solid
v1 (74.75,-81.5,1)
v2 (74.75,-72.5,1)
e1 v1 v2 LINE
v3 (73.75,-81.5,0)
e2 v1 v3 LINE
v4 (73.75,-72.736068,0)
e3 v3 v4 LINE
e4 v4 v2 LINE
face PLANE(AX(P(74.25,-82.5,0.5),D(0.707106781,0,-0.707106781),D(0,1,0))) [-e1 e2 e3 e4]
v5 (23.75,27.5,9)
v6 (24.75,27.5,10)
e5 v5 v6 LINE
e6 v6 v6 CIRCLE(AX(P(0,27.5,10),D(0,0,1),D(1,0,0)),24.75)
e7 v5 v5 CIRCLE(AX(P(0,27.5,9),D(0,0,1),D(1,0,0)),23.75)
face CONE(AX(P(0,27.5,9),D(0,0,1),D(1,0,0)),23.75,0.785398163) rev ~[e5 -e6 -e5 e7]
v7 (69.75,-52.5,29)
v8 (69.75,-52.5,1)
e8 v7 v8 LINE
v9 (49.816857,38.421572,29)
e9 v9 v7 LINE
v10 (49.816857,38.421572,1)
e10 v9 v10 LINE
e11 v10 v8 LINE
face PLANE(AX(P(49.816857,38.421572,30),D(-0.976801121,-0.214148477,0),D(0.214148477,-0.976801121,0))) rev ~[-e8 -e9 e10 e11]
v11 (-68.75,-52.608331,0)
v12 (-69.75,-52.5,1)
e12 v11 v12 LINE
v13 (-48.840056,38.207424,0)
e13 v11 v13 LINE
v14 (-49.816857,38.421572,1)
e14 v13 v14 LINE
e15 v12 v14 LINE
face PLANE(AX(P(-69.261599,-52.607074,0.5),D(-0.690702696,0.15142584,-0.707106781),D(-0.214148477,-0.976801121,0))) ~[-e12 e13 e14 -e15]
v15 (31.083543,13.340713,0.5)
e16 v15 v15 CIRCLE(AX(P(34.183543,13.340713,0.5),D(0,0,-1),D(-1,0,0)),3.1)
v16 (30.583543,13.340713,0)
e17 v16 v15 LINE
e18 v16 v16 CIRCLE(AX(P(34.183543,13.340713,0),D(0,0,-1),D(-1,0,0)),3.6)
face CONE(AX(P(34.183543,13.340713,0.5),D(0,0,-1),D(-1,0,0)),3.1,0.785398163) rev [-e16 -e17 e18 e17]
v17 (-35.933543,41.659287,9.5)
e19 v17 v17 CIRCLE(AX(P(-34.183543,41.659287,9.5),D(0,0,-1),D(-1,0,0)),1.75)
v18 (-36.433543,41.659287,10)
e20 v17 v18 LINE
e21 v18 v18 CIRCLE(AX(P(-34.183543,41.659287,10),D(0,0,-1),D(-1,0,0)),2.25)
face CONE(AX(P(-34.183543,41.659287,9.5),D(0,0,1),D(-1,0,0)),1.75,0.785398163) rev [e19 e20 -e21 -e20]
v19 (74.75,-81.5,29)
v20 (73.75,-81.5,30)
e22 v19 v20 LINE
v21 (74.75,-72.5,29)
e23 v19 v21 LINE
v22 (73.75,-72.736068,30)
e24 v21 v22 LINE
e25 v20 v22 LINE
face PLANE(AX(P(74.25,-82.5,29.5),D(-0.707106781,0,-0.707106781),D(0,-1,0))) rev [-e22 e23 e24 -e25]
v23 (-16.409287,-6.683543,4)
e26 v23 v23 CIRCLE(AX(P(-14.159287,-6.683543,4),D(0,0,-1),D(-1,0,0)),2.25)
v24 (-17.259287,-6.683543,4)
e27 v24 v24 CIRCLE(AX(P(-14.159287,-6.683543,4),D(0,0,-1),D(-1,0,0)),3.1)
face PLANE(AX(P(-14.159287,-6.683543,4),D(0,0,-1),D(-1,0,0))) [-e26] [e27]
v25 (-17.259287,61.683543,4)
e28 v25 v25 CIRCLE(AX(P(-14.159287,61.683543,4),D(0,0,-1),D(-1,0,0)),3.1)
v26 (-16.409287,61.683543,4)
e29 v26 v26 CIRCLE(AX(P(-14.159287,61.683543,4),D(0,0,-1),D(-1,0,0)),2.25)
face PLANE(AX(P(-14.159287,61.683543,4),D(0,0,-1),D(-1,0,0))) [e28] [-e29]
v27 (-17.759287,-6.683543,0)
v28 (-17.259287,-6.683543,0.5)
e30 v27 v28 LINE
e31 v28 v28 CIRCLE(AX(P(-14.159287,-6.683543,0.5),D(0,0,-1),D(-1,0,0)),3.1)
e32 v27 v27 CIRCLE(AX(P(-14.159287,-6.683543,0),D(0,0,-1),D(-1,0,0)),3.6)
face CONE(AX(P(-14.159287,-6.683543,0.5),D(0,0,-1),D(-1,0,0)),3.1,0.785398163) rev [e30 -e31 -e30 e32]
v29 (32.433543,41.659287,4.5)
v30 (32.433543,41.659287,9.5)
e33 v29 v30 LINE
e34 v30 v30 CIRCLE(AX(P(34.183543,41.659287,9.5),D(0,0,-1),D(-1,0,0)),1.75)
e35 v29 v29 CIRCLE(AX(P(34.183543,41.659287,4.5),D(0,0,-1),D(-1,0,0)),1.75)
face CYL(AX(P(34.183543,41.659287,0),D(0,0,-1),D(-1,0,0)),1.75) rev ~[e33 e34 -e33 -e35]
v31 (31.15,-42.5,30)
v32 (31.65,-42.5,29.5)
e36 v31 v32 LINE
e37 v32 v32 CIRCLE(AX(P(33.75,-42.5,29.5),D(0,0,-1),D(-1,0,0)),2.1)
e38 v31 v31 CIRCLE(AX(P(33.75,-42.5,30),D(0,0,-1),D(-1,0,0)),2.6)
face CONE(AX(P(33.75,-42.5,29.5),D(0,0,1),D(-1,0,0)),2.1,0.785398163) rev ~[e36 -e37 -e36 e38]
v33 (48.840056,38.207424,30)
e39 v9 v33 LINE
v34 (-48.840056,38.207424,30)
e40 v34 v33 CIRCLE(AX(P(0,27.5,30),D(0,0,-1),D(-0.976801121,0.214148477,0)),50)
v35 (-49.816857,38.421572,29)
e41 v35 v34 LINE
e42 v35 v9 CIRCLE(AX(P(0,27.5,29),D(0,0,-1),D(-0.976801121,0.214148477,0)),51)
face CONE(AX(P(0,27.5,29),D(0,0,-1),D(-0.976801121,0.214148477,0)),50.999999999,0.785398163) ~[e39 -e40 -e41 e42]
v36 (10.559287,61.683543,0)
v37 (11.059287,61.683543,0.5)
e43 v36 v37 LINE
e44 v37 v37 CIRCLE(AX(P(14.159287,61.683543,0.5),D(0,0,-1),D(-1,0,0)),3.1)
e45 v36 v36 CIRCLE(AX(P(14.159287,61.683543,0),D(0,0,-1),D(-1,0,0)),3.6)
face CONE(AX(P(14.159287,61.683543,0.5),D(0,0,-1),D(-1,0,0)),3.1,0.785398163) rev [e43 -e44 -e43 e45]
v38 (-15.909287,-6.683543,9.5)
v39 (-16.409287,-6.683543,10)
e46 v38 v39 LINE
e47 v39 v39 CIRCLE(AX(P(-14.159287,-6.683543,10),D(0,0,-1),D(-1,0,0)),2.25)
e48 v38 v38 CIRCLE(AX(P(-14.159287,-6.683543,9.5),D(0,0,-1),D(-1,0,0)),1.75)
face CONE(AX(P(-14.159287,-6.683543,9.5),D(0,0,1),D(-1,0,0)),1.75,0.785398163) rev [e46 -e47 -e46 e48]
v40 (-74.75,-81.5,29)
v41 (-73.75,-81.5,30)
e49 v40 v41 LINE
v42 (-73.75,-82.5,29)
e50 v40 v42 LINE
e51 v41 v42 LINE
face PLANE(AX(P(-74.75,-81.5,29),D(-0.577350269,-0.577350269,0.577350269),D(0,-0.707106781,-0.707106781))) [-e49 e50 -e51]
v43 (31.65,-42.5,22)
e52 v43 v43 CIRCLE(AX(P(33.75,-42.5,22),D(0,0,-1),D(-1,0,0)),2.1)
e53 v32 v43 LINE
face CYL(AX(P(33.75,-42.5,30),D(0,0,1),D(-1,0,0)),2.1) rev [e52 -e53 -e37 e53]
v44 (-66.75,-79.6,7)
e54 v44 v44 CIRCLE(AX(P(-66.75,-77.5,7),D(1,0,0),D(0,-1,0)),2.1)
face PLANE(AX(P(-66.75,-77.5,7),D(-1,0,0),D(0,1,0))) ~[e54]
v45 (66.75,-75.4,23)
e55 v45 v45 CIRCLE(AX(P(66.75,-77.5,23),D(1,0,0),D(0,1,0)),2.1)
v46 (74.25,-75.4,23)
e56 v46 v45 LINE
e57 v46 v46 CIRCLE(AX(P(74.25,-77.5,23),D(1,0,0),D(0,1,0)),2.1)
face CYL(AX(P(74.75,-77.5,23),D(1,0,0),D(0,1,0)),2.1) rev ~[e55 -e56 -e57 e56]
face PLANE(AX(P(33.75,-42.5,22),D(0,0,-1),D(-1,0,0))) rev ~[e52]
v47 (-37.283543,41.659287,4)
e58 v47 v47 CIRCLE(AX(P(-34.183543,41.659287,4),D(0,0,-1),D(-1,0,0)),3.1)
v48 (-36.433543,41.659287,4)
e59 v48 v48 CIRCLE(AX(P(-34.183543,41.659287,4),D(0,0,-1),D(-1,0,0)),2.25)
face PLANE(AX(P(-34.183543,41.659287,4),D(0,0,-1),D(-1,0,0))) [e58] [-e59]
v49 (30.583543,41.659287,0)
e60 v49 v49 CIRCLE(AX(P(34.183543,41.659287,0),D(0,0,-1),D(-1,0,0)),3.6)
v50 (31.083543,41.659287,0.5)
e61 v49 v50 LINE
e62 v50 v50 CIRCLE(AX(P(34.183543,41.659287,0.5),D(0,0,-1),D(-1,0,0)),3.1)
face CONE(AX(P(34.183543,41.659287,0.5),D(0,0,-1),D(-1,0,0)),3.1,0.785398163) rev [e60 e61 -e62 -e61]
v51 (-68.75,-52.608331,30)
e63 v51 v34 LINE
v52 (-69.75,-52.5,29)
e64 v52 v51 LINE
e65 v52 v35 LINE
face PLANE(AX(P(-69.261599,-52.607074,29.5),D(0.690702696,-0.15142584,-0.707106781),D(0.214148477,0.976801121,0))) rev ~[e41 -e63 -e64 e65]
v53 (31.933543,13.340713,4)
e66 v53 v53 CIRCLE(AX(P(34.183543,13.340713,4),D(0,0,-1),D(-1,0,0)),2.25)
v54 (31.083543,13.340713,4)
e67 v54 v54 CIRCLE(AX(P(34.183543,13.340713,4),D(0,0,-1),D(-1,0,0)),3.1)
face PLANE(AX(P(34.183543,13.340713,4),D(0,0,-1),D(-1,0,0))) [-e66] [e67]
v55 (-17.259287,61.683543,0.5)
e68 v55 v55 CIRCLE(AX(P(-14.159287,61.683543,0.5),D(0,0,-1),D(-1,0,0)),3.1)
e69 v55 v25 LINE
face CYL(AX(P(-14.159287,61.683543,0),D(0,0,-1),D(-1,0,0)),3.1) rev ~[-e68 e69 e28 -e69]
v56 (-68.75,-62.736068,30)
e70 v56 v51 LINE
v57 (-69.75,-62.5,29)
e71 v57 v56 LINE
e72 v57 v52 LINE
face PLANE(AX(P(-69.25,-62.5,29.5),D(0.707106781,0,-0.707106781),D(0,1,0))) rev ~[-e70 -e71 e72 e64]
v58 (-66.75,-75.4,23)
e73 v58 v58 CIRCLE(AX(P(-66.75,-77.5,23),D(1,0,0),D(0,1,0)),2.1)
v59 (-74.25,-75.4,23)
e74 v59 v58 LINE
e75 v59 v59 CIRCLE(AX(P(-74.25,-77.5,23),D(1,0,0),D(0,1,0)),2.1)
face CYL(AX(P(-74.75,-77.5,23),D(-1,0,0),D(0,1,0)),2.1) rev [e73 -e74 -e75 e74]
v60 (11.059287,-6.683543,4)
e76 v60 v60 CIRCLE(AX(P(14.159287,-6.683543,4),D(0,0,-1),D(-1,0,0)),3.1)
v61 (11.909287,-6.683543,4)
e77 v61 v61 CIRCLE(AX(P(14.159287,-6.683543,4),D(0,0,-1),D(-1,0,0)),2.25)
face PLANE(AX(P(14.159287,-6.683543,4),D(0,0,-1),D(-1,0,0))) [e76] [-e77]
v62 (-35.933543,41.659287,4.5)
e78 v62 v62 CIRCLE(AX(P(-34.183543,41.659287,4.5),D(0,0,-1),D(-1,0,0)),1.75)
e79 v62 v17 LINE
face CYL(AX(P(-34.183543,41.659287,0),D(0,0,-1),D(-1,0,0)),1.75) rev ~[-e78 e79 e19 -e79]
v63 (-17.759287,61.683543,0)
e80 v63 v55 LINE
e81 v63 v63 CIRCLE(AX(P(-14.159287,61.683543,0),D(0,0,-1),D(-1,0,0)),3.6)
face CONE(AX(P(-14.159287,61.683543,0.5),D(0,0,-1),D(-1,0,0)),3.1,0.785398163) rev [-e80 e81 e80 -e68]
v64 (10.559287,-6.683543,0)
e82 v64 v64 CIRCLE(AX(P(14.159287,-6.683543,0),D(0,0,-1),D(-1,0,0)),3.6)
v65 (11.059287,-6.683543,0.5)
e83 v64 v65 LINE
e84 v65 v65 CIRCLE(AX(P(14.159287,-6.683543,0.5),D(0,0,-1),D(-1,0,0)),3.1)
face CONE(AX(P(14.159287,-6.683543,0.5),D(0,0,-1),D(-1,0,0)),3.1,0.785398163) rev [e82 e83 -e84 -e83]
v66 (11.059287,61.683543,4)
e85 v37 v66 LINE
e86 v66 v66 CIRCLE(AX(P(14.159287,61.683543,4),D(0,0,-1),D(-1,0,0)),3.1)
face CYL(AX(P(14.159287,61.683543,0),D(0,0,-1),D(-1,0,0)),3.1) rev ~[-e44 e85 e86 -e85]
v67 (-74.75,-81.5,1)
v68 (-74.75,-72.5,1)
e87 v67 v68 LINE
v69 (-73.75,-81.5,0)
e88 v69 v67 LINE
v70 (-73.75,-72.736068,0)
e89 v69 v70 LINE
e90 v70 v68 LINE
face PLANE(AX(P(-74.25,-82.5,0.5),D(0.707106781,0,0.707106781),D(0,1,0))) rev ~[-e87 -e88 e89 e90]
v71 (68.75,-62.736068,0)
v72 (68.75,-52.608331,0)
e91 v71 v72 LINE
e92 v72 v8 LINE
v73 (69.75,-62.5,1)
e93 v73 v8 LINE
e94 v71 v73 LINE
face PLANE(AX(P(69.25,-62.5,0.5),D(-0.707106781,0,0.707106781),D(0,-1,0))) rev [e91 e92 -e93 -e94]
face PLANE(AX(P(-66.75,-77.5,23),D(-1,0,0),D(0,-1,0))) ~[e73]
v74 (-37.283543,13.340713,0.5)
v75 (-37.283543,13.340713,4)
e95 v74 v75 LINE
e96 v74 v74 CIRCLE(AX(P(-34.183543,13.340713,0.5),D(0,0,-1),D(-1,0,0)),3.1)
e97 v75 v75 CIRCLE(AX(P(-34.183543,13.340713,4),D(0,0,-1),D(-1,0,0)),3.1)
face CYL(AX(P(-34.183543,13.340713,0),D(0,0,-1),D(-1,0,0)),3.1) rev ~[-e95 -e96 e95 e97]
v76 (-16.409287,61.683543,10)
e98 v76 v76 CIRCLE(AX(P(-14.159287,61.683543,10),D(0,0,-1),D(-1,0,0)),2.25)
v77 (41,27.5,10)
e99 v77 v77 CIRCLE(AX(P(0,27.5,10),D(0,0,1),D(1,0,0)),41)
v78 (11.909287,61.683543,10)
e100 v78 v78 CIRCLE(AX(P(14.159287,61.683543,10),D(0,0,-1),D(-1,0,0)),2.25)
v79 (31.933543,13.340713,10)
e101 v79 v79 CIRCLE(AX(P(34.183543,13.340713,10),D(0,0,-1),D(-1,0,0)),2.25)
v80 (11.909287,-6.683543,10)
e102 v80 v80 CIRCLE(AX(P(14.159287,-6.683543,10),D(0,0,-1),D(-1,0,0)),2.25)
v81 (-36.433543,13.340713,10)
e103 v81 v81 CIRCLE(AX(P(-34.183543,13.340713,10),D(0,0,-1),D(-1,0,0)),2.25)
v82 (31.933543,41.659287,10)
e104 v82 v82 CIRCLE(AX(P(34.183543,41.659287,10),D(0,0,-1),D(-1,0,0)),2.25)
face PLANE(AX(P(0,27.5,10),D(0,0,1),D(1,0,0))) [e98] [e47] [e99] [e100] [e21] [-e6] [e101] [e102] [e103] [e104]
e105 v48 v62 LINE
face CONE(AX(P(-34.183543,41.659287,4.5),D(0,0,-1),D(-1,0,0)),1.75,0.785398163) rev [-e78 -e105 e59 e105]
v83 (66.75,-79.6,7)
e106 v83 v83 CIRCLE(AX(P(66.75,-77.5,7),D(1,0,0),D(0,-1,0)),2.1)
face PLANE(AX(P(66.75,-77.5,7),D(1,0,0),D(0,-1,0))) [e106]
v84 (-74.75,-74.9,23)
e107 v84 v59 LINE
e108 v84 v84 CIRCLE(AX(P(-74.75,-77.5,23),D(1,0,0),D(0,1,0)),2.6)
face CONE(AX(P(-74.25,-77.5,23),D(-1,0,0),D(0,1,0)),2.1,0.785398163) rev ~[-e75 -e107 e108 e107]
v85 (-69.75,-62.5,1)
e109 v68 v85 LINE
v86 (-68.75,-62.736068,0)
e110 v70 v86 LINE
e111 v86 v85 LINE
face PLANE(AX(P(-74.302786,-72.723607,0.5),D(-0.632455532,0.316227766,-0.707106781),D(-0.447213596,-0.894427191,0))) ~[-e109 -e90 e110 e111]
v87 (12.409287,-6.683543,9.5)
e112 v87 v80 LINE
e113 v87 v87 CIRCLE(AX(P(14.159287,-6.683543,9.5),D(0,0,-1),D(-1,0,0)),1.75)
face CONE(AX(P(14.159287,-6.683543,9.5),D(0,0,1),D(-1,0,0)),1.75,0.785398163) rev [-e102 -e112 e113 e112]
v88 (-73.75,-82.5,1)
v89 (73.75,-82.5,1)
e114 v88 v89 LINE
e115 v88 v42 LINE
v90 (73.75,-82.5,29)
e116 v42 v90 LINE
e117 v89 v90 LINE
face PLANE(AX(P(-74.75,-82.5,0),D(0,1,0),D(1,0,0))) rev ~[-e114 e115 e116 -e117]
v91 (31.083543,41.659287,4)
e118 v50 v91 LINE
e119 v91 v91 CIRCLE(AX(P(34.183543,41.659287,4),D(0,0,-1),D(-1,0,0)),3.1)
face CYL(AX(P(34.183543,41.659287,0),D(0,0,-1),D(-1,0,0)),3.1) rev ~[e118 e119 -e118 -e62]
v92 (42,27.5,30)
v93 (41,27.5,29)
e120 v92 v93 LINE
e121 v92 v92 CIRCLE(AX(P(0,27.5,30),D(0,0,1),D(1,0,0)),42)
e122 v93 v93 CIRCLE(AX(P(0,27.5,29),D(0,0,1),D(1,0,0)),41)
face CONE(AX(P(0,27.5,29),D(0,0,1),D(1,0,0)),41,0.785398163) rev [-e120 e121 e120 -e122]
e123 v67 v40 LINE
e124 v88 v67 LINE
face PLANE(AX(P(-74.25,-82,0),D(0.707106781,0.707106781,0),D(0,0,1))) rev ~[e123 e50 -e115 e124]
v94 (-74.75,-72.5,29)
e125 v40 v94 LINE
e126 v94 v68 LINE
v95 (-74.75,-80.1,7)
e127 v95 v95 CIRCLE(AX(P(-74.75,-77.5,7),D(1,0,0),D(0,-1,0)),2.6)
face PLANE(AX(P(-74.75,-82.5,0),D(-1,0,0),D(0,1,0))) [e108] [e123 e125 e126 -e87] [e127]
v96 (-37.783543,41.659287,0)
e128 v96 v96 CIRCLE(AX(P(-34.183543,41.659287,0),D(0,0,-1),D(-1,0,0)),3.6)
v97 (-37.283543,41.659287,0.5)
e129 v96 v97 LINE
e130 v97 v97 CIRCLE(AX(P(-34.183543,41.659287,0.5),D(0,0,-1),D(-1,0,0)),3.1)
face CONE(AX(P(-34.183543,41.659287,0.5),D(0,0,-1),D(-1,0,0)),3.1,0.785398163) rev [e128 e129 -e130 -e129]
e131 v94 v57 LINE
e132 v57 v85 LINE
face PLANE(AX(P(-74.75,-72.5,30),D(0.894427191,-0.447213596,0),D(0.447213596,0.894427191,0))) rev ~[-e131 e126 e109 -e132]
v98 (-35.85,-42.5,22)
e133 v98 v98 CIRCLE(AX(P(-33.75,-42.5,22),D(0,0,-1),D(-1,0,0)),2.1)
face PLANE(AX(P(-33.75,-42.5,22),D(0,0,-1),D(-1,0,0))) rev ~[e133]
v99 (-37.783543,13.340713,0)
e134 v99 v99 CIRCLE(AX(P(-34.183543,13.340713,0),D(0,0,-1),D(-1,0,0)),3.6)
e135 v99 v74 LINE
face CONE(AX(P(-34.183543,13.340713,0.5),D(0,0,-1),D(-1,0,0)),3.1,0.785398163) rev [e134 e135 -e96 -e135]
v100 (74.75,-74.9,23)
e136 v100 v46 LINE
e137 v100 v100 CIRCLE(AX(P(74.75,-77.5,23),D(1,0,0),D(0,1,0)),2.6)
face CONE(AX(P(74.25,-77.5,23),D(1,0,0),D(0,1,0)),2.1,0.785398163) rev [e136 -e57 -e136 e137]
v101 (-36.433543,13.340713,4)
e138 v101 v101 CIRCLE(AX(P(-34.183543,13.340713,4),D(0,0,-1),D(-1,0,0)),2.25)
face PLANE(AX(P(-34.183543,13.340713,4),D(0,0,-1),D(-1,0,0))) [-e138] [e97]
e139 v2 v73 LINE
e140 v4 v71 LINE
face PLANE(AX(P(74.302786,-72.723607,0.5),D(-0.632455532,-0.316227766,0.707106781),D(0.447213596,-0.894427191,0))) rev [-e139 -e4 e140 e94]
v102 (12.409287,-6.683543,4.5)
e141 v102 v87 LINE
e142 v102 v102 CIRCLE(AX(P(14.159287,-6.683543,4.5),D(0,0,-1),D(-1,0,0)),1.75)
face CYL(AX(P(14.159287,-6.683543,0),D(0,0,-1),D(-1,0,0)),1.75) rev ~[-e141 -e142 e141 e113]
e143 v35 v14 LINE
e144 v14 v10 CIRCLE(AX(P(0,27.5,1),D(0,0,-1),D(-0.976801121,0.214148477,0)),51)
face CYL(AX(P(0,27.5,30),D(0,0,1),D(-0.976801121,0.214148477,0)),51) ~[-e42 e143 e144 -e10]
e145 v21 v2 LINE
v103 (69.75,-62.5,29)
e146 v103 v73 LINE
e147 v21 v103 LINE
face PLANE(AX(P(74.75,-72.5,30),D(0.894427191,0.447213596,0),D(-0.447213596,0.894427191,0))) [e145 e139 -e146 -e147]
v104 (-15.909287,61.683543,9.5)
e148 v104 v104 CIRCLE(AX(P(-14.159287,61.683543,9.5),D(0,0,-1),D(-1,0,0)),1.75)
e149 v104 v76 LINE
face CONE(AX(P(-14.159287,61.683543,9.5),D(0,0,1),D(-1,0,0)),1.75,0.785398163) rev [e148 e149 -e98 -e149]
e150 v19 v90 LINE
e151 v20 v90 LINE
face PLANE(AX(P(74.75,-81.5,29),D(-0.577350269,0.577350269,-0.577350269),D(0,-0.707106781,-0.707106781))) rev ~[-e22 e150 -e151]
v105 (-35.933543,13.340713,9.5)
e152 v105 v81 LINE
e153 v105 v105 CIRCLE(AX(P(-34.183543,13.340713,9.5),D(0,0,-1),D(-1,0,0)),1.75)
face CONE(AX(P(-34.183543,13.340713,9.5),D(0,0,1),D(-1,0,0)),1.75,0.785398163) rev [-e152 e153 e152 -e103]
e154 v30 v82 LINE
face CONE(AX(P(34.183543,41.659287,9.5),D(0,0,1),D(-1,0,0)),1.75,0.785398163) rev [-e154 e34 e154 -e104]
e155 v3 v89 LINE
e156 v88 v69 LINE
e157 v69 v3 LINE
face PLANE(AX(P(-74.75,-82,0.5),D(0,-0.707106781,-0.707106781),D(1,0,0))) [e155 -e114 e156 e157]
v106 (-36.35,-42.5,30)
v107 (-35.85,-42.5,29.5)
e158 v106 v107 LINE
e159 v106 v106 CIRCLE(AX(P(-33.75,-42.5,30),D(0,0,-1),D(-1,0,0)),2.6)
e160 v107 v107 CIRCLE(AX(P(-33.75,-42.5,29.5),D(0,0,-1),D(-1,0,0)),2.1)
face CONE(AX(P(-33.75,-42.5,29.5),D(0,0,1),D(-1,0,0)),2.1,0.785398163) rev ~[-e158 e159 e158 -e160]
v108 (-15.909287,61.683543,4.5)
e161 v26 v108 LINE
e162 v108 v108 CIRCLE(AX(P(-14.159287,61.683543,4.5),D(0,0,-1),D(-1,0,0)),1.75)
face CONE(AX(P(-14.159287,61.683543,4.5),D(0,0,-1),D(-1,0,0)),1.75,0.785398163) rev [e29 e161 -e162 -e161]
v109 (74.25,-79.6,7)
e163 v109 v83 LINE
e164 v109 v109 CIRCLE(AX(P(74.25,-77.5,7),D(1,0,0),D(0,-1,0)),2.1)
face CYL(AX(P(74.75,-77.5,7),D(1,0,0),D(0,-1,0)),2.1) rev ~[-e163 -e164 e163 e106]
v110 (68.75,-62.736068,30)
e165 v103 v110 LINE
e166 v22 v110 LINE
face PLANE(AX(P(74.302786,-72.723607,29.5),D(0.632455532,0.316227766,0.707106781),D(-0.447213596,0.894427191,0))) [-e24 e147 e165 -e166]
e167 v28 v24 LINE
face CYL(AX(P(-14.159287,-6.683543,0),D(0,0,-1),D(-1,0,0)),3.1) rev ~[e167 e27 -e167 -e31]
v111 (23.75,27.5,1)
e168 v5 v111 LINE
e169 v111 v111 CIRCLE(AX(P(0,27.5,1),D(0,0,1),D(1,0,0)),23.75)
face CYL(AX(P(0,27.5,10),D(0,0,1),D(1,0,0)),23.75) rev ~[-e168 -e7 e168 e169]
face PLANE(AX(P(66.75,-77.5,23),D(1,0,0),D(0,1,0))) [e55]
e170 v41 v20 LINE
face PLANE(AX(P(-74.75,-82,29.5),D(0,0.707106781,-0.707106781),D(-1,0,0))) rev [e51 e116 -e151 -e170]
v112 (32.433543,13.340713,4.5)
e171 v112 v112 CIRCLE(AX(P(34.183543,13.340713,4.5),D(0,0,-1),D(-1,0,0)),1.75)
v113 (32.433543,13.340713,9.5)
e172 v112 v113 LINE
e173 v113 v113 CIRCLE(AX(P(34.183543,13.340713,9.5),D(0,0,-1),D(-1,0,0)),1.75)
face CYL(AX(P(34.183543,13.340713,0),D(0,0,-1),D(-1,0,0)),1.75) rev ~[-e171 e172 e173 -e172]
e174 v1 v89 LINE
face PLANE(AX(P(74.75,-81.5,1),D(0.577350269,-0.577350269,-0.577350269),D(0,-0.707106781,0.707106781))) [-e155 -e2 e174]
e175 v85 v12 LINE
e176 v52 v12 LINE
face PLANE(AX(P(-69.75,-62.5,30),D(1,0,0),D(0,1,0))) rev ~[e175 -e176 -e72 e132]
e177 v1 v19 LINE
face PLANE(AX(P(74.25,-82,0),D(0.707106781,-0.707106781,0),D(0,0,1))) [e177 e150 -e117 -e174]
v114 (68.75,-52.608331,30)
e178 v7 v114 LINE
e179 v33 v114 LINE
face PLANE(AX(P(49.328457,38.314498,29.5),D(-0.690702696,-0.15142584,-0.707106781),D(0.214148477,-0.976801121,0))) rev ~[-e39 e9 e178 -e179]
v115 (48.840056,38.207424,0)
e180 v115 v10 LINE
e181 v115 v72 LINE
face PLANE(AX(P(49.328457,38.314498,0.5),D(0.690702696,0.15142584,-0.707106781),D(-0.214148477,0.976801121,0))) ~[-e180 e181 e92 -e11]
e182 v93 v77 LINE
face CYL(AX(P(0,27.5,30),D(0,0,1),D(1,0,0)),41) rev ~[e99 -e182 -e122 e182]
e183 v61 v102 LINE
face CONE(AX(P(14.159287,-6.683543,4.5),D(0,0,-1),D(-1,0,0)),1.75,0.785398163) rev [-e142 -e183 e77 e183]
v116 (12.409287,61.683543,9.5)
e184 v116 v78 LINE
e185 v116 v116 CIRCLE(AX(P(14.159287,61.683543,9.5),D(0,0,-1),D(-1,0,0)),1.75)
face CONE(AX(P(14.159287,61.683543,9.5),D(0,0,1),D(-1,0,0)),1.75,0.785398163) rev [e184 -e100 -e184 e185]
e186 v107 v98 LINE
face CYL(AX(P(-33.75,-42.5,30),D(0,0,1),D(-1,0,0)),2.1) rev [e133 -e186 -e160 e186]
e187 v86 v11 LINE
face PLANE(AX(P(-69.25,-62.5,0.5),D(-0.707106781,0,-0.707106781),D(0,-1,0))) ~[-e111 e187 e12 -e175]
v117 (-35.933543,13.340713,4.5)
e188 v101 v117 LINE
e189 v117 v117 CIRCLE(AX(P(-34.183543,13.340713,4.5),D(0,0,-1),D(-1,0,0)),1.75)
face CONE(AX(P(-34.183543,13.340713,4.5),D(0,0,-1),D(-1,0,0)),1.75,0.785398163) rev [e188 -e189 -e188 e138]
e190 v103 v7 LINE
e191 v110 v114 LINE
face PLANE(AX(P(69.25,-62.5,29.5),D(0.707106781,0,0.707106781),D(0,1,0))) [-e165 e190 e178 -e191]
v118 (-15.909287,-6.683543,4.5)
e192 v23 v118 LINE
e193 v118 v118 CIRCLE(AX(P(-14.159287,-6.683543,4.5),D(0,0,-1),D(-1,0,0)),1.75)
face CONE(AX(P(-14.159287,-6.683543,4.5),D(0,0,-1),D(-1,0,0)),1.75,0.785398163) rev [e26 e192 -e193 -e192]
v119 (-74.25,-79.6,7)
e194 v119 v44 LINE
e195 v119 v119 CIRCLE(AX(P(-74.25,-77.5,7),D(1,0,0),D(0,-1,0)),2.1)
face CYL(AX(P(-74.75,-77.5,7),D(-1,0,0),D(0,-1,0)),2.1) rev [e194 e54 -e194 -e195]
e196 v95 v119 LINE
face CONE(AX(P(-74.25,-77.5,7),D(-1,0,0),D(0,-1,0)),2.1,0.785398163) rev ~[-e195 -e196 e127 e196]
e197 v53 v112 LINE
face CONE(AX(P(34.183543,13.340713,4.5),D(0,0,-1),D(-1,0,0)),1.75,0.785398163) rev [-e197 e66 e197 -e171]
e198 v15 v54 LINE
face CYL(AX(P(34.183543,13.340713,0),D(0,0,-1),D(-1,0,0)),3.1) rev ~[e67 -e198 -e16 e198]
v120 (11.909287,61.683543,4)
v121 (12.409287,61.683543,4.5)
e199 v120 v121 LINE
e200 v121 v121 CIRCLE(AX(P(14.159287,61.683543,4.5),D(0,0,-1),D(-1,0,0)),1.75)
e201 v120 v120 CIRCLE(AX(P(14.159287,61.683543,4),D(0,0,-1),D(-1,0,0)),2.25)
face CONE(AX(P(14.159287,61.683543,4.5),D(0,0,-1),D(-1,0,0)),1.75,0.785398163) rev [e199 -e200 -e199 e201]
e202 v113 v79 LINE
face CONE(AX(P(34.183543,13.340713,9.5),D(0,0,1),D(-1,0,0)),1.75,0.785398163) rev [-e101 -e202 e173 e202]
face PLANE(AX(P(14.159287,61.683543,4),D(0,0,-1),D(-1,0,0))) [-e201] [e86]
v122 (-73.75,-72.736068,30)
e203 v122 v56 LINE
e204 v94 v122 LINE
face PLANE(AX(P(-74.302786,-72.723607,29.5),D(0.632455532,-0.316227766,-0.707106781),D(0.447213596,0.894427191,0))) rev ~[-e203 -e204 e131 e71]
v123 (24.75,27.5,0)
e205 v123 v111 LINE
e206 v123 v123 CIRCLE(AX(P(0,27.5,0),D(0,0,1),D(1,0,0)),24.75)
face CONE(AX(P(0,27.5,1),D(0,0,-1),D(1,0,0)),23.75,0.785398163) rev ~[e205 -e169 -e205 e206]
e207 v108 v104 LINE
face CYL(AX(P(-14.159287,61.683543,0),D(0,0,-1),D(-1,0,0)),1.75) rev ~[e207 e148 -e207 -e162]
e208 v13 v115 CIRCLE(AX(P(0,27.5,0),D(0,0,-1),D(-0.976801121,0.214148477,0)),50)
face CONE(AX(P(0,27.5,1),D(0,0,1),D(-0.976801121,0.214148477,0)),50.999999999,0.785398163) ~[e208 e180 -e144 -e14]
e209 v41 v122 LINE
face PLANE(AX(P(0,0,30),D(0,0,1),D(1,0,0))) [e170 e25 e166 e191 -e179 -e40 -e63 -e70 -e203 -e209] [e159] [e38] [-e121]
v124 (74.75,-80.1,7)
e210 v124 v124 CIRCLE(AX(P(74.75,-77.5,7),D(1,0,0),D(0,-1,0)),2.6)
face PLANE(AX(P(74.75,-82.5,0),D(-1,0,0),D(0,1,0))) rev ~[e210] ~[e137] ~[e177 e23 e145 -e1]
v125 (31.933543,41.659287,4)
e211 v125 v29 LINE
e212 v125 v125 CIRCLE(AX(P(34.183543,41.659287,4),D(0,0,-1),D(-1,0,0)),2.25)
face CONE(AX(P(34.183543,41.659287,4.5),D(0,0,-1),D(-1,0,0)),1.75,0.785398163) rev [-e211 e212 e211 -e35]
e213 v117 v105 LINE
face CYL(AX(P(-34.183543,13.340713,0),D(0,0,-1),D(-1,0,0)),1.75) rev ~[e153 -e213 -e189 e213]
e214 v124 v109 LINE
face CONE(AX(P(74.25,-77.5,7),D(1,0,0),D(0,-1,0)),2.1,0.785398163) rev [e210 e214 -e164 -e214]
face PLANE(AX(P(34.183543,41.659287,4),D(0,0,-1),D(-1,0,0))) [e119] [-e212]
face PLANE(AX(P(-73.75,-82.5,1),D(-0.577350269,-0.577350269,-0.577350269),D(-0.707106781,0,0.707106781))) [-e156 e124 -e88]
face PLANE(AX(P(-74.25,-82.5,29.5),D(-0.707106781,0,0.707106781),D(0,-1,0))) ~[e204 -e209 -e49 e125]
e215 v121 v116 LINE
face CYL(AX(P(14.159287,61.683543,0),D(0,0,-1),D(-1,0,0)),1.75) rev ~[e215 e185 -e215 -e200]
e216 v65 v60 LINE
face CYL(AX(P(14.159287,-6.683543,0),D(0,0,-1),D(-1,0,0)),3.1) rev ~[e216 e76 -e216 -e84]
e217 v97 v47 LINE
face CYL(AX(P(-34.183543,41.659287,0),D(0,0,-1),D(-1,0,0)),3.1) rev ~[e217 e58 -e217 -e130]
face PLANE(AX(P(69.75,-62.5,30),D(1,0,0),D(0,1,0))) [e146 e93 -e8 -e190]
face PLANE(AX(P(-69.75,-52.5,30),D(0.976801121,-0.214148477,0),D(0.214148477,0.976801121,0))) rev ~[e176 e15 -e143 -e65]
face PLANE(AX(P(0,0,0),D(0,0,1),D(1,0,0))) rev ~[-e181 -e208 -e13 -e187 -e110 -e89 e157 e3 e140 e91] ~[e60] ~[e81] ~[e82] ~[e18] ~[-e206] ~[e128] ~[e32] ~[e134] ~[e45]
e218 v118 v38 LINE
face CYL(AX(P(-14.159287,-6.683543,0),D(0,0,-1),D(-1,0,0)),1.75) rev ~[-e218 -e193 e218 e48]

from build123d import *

# Parameters (mm, degrees)
SKETCH_1_W          = 149.5
SKETCH_1_H          = 165
EXTRUDE_1_DEPTH     = 30
CUT_EXTRUDE_1_DEPTH = 116.298796611
SKETCH_3_R          = 41
CUT_EXTRUDE_2_DEPTH = 20
SKETCH_4_R          = 23.75
CUT_EXTRUDE_3_DEPTH = 114.109736539
SKETCH_5_R          = 1.75
CUT_EXTRUDE_4_DEPTH = 116.298796611
SKETCH_6_R          = 3.1
CUT_EXTRUDE_5_DEPTH = 4
SKETCH_7_R          = 2.1
CUT_EXTRUDE_6_DEPTH = 8
CHAMFER_1_SIZE      = 0.5
CHAMFER_2_SIZE      = 1
CHAMFER_3_SIZE      = 0.5
CUT_EXTRUDE_7_DEPTH = 116.298796611
CHAMFER_4_SIZE      = 1
SKETCH_9_R          = 2.1
CUT_EXTRUDE_8_DEPTH = 8
CHAMFER_5_SIZE      = 0.5


with BuildPart() as part:
    # 草图1 → 凸台-拉伸1 (new body)
    with BuildSketch(Plane.XY):
        Rectangle(SKETCH_1_W, SKETCH_1_H)
    extrude(amount=EXTRUDE_1_DEPTH)

    # 草图2 → 切除-拉伸1 (cut, through all)
    with BuildSketch(Plane.XY.offset(30)):
        Polygon((-74.75, 82.5), (-74.75, -72.5), (-69.75, -62.5), (-69.75, 82.5), align=None)
        Polygon((69.75, 82.5), (74.75, 82.5), (74.75, -72.5), (69.75, -62.5), align=None)
    extrude(amount=-CUT_EXTRUDE_1_DEPTH, mode=Mode.SUBTRACT)

    # 草图3 → 切除-拉伸2 (cut)
    with BuildSketch(Plane.XY.offset(30)):
        with Locations((0, 27.5)):
            Circle(SKETCH_3_R)
    extrude(amount=-CUT_EXTRUDE_2_DEPTH, mode=Mode.SUBTRACT)

    # 草图4 → 切除-拉伸3 (cut, through all)
    with BuildSketch(Plane.XY.offset(10)):
        with Locations((0, 27.5)):
            Circle(SKETCH_4_R)
    extrude(amount=-CUT_EXTRUDE_3_DEPTH, mode=Mode.SUBTRACT)

    # 草图5 → 切除-拉伸4 (cut, through all)
    with BuildSketch(Plane(origin=(0, 0, 0), x_dir=(-1, 0, 0), z_dir=(0, 0, -1))):
        with Locations((14.159286998, 61.683542703)):
            Circle(SKETCH_5_R)
        with Locations((34.183542703, 41.659286998)):
            Circle(SKETCH_5_R)
        with Locations((34.183542703, 13.340713002)):
            Circle(SKETCH_5_R)
        with Locations((14.159286998, -6.683542703)):
            Circle(SKETCH_5_R)
        with Locations((-14.159286998, -6.683542703)):
            Circle(SKETCH_5_R)
        with Locations((-34.183542703, 13.340713002)):
            Circle(SKETCH_5_R)
        with Locations((-34.183542703, 41.659286998)):
            Circle(SKETCH_5_R)
        with Locations((-14.159286998, 61.683542703)):
            Circle(SKETCH_5_R)
    extrude(amount=-CUT_EXTRUDE_4_DEPTH, mode=Mode.SUBTRACT)

    # 草图6 → 切除-拉伸5 (cut)
    with BuildSketch(Plane(origin=(0, 0, 0), x_dir=(-1, 0, 0), z_dir=(0, 0, -1))):
        with Locations((14.159286998, 61.683542703)):
            Circle(SKETCH_6_R)
        with Locations((34.183542703, 41.659286998)):
            Circle(SKETCH_6_R)
        with Locations((34.183542703, 13.340713002)):
            Circle(SKETCH_6_R)
        with Locations((14.159286998, -6.683542703)):
            Circle(SKETCH_6_R)
        with Locations((-14.159286998, -6.683542703)):
            Circle(SKETCH_6_R)
        with Locations((-34.183542703, 13.340713002)):
            Circle(SKETCH_6_R)
        with Locations((-34.183542703, 41.659286998)):
            Circle(SKETCH_6_R)
        with Locations((-14.159286998, 61.683542703)):
            Circle(SKETCH_6_R)
    extrude(amount=-CUT_EXTRUDE_5_DEPTH, mode=Mode.SUBTRACT)

    # 草图7 → 切除-拉伸6 (cut)
    with BuildSketch(Plane(origin=(74.75, 0, 0), x_dir=(0, 0, -1), z_dir=(1, 0, 0))):
        with Locations(Location((-23, -77.5, 0), (0, 0, 90))):
            Circle(SKETCH_7_R)
        with Locations(Location((-7, -77.5, 0), (0, 0, 270))):
            Circle(SKETCH_7_R)
    cut_extrude_6 = extrude(amount=-CUT_EXTRUDE_6_DEPTH, mode=Mode.SUBTRACT)

    # 镜向1: 切除-拉伸6 across plane
    add(cut_extrude_6.mirror(Plane(origin=(0, 0, 0), x_dir=(0, 0, 1), z_dir=(1, 0, 0))), mode=Mode.SUBTRACT)

    # 倒角1
    chamfer_1_edges = [part.edges().sort_by_distance(p)[0] for p in [
        (74.75, -79.6, 23),
        (74.75, -75.4, 7),
        (-74.75, -79.6, 23),
        (-74.75, -75.4, 7),
    ]]
    chamfer(chamfer_1_edges, length=CHAMFER_1_SIZE)

    # 倒角2
    chamfer_2_edges = [part.edges().sort_by_distance(p)[0] for p in [
        (-41, 27.5, 30),
        (-23.75, 27.5, 0),
        (-23.75, 27.5, 10),
    ]]
    chamfer(chamfer_2_edges, length=CHAMFER_2_SIZE)

    # 倒角3
    chamfer_3_edges = [part.edges().sort_by_distance(p)[0] for p in [
        (-32.433542703, 41.659286998, 4),
        (-31.083542703, 41.659286998, 0),
        (-32.433542703, 13.340713002, 4),
        (-31.083542703, 13.340713002, 0),
        (-12.409286998, -6.683542703, 4),
        (-11.059286998, -6.683542703, 0),
        (15.909286998, -6.683542703, 4),
        (17.259286998, -6.683542703, 0),
        (35.933542703, 13.340713002, 4),
        (37.283542703, 13.340713002, 0),
        (35.933542703, 41.659286998, 4),
        (37.283542703, 41.659286998, 0),
        (15.909286998, 61.683542703, 4),
        (17.259286998, 61.683542703, 0),
        (-12.409286998, 61.683542703, 4),
        (-11.059286998, 61.683542703, 0),
        (-32.433542703, 41.659286998, 10),
        (-32.433542703, 13.340713002, 10),
        (-12.409286998, -6.683542703, 10),
        (15.909286998, -6.683542703, 10),
        (35.933542703, 13.340713002, 10),
        (35.933542703, 41.659286998, 10),
        (15.909286998, 61.683542703, 10),
        (-12.409286998, 61.683542703, 10),
    ]]
    chamfer(chamfer_3_edges, length=CHAMFER_3_SIZE)

    # 草图8 → 切除-拉伸7 (cut, through all)
    with BuildSketch(Plane.XY.offset(30)):
        with BuildLine():
            Line((-69.75, -52.5), (-49.816857163, 38.421572339))
            ThreePointArc((-49.816857163, 38.421572339), (0, 78.5), (49.816857163, 38.421572339))
            Line((49.816857163, 38.421572339), (69.75, -52.5))
            Line((69.75, -52.5), (69.75, 82.5))
            Line((69.75, 82.5), (-69.75, 82.5))
            Line((-69.75, 82.5), (-69.75, -52.5))
        make_face()
    extrude(amount=-CUT_EXTRUDE_7_DEPTH, mode=Mode.SUBTRACT)

    # 倒角4
    chamfer_4_edges = [part.edges().sort_by_distance(p)[0] for p in [
        (-74.75, -77.5, 0),
        (0, -82.5, 30),
        (-74.75, -77.5, 30),
        (-69.75, -57.5, 0),
        (-72.25, -67.5, 0),
        (-72.25, -67.5, 30),
        (-69.75, -57.5, 30),
        (69.75, -57.5, 30),
        (69.75, -57.5, 0),
        (59.783428582, -7.03921383, 0),
        (0, 78.5, 0),
        (-59.783428582, -7.03921383, 0),
        (-59.783428582, -7.03921383, 30),
        (0, 78.5, 30),
        (59.783428582, -7.03921383, 30),
        (72.25, -67.5, 0),
        (72.25, -67.5, 30),
        (74.75, -77.5, 30),
        (0, -82.5, 0),
        (74.75, -77.5, 0),
        (74.75, -82.5, 15),
        (-74.75, -82.5, 15),
    ]]
    chamfer(chamfer_4_edges, length=CHAMFER_4_SIZE)

    # 草图9 → 切除-拉伸8 (cut)
    with BuildSketch(Plane(origin=(0, 0, 30), x_dir=(-1, 0, 0), z_dir=(0, 0, -1))):
        with Locations((-33.75, -42.5)):
            Circle(SKETCH_9_R)
        with Locations((33.75, -42.5)):
            Circle(SKETCH_9_R)
    extrude(amount=CUT_EXTRUDE_8_DEPTH, mode=Mode.SUBTRACT)

    # 倒角5
    chamfer_5_edges = [part.edges().sort_by_distance(p)[0] for p in [
        (35.85, -42.5, 30),
        (-31.65, -42.5, 30),
    ]]
    chamfer(chamfer_5_edges, length=CHAMFER_5_SIZE)


solid = part.part
